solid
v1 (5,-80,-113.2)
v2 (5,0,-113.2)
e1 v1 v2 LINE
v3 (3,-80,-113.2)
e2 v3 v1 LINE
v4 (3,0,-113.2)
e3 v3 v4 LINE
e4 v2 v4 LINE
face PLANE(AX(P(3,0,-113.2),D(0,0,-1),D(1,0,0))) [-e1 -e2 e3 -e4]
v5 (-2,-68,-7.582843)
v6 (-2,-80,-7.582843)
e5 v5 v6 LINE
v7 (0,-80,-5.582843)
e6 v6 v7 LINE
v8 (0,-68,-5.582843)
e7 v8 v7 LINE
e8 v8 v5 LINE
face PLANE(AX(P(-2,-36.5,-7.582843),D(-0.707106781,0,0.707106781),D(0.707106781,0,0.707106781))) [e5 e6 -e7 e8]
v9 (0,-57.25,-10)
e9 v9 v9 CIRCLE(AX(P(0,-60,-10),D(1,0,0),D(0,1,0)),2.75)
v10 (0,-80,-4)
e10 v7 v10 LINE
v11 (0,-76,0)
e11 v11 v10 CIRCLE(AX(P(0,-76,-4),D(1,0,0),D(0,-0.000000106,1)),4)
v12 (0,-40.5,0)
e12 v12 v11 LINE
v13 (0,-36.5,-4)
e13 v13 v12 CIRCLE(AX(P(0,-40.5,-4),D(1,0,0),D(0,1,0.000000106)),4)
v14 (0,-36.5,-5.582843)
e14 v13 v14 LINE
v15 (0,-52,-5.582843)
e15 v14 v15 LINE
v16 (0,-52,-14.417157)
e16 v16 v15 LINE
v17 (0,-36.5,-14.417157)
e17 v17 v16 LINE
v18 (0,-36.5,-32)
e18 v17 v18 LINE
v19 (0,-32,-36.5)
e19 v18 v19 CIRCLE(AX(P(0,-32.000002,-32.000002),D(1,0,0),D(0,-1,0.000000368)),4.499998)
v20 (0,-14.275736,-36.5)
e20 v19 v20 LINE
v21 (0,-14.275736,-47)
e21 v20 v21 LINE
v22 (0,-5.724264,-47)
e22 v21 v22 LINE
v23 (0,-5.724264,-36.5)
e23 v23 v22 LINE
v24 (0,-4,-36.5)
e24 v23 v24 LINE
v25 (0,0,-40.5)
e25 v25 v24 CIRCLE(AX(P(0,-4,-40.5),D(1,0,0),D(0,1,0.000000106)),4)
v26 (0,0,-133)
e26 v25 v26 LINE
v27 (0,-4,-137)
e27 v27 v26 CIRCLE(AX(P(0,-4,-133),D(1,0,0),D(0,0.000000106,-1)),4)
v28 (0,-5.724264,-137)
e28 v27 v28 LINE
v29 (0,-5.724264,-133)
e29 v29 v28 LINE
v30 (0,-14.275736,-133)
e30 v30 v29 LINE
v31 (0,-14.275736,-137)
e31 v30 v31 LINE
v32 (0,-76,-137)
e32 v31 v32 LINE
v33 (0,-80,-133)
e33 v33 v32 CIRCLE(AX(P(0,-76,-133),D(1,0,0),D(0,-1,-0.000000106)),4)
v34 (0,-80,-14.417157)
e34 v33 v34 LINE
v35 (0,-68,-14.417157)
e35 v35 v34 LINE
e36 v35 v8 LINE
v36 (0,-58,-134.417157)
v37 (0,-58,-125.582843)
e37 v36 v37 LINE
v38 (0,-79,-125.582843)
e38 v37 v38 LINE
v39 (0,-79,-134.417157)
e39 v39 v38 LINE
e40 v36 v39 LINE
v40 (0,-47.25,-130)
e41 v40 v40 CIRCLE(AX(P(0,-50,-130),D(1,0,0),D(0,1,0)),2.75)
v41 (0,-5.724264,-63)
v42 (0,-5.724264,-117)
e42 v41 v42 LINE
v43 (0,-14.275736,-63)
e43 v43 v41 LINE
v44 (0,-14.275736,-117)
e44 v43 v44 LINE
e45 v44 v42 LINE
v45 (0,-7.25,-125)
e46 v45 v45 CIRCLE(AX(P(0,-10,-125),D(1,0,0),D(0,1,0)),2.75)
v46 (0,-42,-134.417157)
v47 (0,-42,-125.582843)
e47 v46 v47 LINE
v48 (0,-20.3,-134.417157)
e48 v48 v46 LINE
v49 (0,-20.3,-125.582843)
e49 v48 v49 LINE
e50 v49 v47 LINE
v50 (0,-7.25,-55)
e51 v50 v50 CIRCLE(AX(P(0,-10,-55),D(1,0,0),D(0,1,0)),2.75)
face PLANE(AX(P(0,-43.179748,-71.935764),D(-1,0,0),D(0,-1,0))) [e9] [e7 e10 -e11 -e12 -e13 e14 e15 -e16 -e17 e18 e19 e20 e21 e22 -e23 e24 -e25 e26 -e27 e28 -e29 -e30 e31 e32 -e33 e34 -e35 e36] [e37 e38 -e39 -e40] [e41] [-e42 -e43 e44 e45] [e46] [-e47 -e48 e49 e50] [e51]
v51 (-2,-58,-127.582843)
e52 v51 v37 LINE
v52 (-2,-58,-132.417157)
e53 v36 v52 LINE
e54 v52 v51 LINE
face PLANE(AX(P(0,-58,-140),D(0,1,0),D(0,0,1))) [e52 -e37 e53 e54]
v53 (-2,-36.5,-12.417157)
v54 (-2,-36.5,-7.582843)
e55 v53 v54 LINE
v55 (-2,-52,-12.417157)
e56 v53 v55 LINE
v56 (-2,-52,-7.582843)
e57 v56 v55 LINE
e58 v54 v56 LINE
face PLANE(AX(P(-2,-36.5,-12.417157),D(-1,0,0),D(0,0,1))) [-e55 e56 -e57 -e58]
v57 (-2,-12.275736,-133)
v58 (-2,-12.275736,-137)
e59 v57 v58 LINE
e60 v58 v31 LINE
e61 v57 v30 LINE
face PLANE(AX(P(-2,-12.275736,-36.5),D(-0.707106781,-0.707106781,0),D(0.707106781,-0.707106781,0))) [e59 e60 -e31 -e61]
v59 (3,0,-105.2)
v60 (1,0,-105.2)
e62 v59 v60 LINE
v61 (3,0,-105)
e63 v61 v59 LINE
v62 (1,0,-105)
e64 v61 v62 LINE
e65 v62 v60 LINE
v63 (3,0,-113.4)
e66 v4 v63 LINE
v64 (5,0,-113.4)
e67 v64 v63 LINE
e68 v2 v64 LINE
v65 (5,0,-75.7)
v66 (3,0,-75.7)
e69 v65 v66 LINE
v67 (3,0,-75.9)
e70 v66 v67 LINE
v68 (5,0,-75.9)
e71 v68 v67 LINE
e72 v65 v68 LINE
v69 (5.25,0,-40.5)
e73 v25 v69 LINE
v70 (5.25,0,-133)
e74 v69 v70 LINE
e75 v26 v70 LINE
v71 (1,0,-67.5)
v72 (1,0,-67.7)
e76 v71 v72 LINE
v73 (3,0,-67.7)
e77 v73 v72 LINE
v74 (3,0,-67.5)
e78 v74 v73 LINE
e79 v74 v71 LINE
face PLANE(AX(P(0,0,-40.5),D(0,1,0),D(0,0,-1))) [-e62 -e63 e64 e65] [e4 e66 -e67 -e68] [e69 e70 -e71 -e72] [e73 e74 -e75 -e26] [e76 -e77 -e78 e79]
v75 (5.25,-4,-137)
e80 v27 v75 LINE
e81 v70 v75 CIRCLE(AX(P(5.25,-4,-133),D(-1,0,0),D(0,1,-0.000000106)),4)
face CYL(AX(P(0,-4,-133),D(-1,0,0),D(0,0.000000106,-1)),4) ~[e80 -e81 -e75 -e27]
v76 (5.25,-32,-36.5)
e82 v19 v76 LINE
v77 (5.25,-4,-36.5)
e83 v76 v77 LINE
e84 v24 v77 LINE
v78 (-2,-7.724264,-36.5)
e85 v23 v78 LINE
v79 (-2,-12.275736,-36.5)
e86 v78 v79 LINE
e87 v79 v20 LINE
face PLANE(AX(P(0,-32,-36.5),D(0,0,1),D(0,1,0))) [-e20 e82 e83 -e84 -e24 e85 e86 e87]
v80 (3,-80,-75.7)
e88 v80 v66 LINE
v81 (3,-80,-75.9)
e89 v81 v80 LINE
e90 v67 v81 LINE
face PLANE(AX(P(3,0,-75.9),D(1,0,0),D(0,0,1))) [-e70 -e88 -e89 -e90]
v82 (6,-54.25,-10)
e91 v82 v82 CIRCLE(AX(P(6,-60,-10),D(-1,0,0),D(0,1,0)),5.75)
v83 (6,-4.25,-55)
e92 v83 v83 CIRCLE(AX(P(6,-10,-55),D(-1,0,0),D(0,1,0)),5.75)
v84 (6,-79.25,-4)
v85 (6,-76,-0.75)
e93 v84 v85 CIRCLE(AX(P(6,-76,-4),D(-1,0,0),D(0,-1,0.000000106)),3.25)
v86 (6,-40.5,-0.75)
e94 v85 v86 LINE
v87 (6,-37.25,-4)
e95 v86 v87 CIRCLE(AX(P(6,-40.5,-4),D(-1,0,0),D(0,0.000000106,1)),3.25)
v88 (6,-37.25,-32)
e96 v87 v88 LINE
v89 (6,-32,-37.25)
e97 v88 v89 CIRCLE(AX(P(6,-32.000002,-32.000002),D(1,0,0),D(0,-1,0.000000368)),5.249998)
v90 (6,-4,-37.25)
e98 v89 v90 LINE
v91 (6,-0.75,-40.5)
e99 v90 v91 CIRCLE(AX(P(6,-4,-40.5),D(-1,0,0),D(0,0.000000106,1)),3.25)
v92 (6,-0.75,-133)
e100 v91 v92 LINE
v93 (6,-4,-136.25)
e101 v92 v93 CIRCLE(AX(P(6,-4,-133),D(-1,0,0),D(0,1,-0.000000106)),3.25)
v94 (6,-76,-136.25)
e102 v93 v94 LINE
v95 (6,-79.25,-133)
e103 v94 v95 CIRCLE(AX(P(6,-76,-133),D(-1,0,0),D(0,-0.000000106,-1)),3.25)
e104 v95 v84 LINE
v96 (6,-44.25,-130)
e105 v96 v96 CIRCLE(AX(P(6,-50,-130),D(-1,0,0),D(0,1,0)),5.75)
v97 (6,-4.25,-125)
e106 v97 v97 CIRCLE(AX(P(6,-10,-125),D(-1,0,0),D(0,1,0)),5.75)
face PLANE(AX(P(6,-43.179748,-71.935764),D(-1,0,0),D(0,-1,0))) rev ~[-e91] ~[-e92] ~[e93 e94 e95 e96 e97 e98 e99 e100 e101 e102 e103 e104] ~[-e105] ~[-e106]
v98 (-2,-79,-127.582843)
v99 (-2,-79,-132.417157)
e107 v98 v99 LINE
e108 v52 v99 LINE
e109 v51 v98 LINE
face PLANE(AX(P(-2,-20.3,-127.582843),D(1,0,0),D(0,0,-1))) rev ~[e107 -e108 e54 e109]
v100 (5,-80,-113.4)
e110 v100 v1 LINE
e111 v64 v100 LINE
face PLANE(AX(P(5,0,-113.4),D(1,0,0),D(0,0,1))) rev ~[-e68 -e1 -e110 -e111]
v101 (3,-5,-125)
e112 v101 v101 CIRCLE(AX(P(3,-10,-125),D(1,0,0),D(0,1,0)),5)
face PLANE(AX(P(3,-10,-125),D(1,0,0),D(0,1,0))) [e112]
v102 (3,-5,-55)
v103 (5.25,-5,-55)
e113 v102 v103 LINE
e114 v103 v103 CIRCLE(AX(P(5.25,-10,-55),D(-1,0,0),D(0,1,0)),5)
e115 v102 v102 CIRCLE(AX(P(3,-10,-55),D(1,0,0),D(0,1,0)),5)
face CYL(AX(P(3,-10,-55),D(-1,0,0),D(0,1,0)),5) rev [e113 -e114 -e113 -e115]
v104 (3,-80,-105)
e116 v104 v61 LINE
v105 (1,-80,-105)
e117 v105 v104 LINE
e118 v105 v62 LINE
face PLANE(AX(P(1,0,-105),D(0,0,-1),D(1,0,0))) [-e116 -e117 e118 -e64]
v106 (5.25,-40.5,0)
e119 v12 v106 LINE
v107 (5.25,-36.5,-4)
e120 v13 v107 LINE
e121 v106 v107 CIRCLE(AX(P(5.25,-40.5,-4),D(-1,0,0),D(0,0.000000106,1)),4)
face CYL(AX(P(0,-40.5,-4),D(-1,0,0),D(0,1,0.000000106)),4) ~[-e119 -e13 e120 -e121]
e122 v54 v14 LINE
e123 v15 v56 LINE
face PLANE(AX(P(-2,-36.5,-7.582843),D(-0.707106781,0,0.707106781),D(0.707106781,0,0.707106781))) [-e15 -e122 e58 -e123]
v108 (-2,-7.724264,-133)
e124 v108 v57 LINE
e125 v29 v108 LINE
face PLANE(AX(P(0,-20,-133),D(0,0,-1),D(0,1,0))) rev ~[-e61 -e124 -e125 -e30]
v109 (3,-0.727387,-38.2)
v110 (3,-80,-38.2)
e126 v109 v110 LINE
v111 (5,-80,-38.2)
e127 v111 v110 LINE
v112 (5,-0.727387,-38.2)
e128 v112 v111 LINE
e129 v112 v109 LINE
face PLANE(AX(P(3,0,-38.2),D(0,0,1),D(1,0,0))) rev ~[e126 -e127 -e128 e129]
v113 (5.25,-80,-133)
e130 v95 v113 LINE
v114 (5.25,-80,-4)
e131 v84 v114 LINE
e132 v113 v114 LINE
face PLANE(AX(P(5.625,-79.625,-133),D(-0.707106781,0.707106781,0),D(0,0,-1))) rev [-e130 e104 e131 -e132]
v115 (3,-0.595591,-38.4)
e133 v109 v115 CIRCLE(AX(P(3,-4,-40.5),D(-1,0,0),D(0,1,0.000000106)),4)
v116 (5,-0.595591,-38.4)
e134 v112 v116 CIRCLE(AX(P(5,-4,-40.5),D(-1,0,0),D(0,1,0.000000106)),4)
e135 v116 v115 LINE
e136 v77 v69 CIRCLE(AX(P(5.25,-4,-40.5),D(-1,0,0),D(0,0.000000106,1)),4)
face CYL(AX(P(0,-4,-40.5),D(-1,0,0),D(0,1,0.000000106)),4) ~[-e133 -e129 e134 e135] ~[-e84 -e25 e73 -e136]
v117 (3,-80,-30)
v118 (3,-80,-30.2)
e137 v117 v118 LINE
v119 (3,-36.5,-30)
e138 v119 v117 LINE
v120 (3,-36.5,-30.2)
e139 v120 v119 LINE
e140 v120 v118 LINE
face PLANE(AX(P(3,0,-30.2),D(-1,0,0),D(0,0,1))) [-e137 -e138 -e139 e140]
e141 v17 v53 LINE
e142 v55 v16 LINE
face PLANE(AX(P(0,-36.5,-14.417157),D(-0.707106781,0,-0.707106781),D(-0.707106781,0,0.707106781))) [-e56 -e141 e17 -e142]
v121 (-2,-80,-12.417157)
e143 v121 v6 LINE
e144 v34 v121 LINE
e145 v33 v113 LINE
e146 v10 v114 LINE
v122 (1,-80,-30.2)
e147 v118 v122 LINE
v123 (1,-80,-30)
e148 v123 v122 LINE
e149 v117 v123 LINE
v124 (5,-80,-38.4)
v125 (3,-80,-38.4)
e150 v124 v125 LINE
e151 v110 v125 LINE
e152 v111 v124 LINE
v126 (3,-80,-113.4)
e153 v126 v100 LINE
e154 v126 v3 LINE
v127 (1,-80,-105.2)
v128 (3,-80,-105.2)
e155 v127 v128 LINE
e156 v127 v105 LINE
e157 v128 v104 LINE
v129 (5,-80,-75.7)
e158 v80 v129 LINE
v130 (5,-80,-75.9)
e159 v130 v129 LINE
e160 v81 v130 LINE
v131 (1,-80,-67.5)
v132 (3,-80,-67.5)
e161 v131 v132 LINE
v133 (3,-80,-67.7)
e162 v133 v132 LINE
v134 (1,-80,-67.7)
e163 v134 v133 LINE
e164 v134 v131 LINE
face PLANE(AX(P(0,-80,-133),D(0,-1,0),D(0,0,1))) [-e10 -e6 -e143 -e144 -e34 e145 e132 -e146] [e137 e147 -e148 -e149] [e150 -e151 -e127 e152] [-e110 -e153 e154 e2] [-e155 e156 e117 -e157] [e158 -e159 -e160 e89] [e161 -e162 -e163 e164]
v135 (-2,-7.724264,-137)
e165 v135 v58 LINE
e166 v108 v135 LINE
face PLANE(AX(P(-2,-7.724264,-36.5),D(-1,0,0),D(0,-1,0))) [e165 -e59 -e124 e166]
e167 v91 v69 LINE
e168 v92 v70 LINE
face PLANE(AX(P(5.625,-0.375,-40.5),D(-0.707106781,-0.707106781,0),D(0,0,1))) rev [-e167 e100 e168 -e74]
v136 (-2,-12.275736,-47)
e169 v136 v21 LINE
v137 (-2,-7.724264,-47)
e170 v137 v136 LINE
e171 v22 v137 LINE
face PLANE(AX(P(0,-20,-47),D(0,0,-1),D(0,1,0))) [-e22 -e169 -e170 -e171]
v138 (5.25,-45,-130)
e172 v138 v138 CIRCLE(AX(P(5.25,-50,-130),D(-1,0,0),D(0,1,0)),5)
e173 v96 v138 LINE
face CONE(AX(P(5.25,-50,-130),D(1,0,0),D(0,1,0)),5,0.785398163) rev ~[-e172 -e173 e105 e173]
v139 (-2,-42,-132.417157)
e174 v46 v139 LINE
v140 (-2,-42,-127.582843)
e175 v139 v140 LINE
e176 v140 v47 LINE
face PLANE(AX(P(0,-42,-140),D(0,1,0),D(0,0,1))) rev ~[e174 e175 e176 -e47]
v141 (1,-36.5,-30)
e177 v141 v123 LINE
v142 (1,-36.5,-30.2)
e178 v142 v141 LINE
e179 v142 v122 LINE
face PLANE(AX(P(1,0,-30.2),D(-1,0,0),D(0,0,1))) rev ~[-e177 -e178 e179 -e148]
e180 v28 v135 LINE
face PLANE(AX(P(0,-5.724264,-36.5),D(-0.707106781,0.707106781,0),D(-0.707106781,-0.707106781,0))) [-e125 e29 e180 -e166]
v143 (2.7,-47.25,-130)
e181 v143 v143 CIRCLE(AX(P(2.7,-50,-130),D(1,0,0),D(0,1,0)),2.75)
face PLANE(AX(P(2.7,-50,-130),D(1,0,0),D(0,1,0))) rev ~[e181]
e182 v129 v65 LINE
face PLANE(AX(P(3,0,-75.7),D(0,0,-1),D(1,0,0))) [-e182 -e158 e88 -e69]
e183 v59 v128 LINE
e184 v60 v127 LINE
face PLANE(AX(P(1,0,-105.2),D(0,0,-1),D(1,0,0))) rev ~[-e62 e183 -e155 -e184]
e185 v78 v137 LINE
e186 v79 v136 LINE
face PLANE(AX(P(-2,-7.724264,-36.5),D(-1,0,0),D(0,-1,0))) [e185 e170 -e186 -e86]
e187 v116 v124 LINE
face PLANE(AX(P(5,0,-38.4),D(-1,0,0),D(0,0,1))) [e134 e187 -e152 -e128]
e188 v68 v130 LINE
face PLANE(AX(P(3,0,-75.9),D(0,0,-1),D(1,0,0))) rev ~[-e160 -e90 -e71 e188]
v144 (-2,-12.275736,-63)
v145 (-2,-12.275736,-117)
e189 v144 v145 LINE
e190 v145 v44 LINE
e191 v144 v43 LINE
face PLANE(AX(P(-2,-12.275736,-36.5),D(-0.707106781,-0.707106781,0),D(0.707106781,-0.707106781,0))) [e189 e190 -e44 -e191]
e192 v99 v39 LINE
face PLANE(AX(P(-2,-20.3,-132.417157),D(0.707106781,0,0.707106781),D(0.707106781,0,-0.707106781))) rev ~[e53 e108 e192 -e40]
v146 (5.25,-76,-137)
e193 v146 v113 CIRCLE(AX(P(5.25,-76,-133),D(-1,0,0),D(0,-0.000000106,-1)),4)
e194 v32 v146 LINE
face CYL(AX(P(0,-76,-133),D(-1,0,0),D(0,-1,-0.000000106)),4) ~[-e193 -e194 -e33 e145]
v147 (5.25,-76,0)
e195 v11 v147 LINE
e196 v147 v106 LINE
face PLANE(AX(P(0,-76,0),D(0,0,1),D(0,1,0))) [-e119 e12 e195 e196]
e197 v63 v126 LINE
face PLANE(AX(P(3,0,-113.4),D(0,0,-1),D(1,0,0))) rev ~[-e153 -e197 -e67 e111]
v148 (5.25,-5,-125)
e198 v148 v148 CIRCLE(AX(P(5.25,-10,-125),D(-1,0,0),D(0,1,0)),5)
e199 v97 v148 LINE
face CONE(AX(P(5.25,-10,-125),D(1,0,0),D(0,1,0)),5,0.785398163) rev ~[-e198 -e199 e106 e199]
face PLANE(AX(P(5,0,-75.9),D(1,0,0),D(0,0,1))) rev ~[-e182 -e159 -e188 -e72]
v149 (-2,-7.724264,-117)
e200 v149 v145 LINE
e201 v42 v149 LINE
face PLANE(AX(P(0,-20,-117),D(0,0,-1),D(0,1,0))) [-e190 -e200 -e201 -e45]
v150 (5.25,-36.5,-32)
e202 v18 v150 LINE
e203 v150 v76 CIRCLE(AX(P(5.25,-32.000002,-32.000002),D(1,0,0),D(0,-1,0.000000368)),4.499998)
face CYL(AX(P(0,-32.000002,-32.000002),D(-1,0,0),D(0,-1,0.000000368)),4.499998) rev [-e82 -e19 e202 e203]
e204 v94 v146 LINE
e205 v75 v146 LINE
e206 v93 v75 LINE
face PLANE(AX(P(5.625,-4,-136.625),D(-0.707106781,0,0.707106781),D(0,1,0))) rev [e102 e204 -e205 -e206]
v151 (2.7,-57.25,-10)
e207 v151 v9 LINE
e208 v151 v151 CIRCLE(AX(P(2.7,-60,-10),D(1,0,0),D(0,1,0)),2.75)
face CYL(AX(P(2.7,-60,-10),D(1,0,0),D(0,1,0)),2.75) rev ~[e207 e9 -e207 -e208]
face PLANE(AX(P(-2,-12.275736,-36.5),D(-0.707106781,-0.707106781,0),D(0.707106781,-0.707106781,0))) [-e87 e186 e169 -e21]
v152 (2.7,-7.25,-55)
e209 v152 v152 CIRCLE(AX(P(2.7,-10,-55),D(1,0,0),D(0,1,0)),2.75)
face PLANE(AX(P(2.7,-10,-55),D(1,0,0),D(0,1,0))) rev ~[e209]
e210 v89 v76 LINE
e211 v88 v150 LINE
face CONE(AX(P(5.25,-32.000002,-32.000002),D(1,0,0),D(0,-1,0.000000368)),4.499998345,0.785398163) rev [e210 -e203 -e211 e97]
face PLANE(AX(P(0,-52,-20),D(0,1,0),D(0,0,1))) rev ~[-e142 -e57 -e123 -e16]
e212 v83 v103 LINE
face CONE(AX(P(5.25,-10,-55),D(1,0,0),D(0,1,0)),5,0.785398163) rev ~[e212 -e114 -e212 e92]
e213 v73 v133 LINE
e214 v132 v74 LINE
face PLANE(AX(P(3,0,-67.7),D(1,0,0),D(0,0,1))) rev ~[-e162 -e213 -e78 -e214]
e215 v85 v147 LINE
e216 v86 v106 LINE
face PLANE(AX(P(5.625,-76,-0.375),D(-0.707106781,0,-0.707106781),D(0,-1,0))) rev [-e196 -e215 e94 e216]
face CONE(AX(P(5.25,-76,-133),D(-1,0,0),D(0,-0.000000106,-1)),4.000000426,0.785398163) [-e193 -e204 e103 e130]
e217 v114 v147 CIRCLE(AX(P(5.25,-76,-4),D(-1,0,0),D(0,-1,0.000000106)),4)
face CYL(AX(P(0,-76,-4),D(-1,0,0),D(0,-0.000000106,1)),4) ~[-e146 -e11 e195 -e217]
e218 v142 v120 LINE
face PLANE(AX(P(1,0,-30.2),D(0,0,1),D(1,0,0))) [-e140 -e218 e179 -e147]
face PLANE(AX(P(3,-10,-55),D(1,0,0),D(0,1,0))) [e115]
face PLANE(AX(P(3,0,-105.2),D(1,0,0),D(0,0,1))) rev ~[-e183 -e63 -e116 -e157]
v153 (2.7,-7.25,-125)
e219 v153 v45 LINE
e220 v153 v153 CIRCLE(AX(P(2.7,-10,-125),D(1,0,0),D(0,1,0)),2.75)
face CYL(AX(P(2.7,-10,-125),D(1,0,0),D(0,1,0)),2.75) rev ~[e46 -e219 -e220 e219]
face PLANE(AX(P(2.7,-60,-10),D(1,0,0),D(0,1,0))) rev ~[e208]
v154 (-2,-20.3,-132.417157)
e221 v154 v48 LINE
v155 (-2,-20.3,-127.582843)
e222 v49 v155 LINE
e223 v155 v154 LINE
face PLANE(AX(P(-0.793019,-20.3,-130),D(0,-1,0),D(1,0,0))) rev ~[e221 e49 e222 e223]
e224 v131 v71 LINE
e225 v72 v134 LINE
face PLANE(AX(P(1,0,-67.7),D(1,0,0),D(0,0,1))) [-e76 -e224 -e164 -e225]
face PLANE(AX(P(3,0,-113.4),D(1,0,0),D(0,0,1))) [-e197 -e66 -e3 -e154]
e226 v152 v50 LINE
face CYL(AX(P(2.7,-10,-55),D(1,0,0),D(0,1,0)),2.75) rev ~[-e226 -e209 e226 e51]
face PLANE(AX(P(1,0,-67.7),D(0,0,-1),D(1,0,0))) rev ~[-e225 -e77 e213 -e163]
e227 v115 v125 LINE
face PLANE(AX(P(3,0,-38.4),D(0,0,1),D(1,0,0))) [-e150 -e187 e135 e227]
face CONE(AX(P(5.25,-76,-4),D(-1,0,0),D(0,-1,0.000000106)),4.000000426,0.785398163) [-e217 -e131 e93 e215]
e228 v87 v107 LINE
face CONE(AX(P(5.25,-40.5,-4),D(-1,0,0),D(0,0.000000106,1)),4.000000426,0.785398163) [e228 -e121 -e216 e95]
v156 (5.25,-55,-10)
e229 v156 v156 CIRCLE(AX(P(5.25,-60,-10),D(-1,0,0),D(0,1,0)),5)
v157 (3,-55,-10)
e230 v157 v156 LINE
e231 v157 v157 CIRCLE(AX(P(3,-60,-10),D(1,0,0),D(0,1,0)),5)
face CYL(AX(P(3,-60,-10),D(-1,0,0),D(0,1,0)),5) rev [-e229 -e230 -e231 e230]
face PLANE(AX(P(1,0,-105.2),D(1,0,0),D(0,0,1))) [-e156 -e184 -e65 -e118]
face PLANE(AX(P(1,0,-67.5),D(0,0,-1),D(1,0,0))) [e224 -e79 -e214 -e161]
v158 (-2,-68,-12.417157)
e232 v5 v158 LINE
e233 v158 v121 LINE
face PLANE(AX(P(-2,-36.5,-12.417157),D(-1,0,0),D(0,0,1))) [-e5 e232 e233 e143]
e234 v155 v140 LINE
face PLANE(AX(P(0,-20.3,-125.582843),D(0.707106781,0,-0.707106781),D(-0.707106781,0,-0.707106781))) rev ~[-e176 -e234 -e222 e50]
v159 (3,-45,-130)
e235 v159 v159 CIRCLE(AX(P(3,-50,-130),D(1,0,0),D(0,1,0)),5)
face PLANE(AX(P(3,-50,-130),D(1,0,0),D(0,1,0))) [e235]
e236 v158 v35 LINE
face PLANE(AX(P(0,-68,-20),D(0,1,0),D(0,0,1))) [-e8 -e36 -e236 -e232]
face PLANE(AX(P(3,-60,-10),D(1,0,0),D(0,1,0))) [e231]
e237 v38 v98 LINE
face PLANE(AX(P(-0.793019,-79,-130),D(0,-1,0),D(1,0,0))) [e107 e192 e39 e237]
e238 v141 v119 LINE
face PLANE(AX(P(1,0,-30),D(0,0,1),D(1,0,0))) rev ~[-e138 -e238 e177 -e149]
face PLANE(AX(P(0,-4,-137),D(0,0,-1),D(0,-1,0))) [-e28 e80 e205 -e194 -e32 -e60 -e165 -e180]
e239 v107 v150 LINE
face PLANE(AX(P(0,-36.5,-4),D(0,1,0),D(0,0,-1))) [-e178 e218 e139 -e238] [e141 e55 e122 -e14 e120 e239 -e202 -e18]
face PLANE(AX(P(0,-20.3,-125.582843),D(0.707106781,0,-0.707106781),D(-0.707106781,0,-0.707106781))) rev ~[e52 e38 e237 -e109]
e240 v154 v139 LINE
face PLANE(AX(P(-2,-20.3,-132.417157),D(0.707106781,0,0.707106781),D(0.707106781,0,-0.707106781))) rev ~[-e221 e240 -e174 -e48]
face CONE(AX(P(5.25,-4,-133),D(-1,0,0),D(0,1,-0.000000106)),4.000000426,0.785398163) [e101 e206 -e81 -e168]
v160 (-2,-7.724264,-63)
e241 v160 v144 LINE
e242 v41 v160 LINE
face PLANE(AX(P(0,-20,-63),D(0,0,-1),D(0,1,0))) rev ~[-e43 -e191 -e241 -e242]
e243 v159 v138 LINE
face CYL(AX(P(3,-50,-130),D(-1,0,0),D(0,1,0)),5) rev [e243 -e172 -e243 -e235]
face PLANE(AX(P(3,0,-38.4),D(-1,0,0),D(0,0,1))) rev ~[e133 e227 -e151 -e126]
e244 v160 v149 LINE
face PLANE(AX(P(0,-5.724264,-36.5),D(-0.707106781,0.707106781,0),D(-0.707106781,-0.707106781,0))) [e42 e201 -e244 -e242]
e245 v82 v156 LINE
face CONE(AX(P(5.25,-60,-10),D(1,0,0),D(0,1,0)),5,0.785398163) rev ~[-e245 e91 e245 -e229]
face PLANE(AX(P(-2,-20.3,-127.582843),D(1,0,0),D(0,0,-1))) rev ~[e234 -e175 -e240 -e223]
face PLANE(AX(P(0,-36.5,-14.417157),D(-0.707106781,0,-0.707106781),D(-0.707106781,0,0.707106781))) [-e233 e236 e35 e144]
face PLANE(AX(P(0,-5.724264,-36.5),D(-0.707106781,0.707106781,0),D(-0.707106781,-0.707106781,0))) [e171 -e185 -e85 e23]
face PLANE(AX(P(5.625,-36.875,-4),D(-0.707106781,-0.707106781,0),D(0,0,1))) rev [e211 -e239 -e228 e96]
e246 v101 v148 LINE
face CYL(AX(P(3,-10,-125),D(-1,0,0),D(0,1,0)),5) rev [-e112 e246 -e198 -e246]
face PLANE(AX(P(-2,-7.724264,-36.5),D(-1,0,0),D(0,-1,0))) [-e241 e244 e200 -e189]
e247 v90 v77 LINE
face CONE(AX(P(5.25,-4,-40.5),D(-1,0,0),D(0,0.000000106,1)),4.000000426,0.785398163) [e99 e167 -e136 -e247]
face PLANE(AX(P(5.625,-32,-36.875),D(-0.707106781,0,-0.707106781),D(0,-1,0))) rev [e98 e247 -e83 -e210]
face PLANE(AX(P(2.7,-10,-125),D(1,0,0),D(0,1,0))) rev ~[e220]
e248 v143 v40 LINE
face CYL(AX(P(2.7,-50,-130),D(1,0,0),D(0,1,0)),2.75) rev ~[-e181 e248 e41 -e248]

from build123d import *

# Parameters (mm, degrees)
PAD078_DEPTH        = 6
PAD079_START        = -36.5
PAD079_DEPTH        = 100.5
PAD080_START        = 36.5
PAD080_DEPTH        = 43.5
PAD081_START        = 20.3
PAD081_DEPTH        = 58.7
SKETCH337_W         = 20
SKETCH337_H         = 16
SKETCH337_W_2       = 16
SKETCH337_H_2       = 20
POCKET214_DEPTH     = 2.001
SKETCH396_R         = 5
POCKET278_DEPTH     = 3.001
SKETCH397_R         = 2.75
POCKET279_DEPTH     = 4.701
CHAMFER_SIZE        = 0.75
SKETCH_W            = 2
SKETCH_H            = 0.2
POCKET_DEPTH        = 0.001
POCKET_DEPTH_BACK   = 80.001
LINEARPATTERN_COUNT = 3
LINEARPATTERN_PITCH = 37.5


with BuildPart() as part:
    # Sketch334 → Pad078 (new body)
    with BuildSketch(Plane.YZ):
        with BuildLine():
            Line((-76, 0), (-40.5, 0))
            ThreePointArc((-36.5, -4), (-37.671573, -1.171573), (-40.5, 0))
            Line((-36.5, -4), (-36.5, -32))
            ThreePointArc((-36.5, -32), (-35.181981, -35.181981), (-32, -36.5))
            Line((-32, -36.5), (-4, -36.5))
            ThreePointArc((0, -40.5), (-1.171573, -37.671573), (-4, -36.5))
            Line((0, -40.5), (0, -133))
            ThreePointArc((-4, -137), (-1.171573, -135.828427), (0, -133))
            Line((-4, -137), (-76, -137))
            ThreePointArc((-80, -133), (-78.828427, -135.828427), (-76, -137))
            Line((-80, -133), (-80, -4))
            ThreePointArc((-76, 0), (-78.828427, -1.171573), (-80, -4))
        make_face()
    extrude(amount=PAD078_DEPTH)

    # Sketch335 → Pad079 (join)
    with BuildSketch(Plane.XY.offset(PAD079_START)):
        Polygon((0, -5.724264), (-2, -7.724264), (-2, -12.275736), (0, -14.275736), align=None)
    extrude(amount=-PAD079_DEPTH)

    # Sketch338 → Pad080 (join)
    with BuildSketch(Plane.XZ.offset(PAD080_START)):
        Polygon((-2, -7.582843), (0, -5.582843), (0, -14.417157), (-2, -12.417157), align=None)
    extrude(amount=PAD080_DEPTH)

    # Sketch339 → Pad081 (join)
    with BuildSketch(Plane.XZ.offset(PAD081_START)):
        Polygon((0, -125.582843), (-2, -127.582843), (-2, -132.417157), (0, -134.417157), align=None)
    extrude(amount=PAD081_DEPTH)

    # Sketch337 → Pocket214 (cut, through all)
    with BuildSketch(Plane.YZ):
        with Locations((-10, -55)):
            Rectangle(SKETCH337_W, SKETCH337_H)
        with Locations((-60, -10)):
            Rectangle(SKETCH337_W_2, SKETCH337_H_2)
        with Locations((-50, -130)):
            Rectangle(SKETCH337_W_2, SKETCH337_H_2)
        with Locations((-10, -125)):
            Rectangle(SKETCH337_W, SKETCH337_H)
    extrude(amount=-POCKET214_DEPTH, mode=Mode.SUBTRACT)

    # Sketch396 → Pocket278 (cut, through all)
    with BuildSketch(Plane.YZ.offset(3)):
        with Locations((-60, -10)):
            Circle(SKETCH396_R)
        with Locations((-10, -55)):
            Circle(SKETCH396_R)
        with Locations((-10, -125)):
            Circle(SKETCH396_R)
        with Locations((-50, -130)):
            Circle(SKETCH396_R)
    extrude(amount=POCKET278_DEPTH, mode=Mode.SUBTRACT)

    # Sketch397 → Pocket279 (cut, through all)
    with BuildSketch(Plane.YZ.offset(2.7)):
        with Locations((-60, -10)):
            Circle(SKETCH397_R)
        with Locations((-10, -55)):
            Circle(SKETCH397_R)
        with Locations((-10, -125)):
            Circle(SKETCH397_R)
        with Locations((-50, -130)):
            Circle(SKETCH397_R)
    extrude(amount=-POCKET279_DEPTH, mode=Mode.SUBTRACT)

    # Chamfer
    chamfer_edges = [part.edges().sort_by_distance(p)[0] for p in [
        (6, -80, -68.5),
        (6, -78.828427, -135.828427),
        (6, -78.828427, -1.171573),
        (6, -40, -137),
        (6, -58.25, 0),
        (6, -1.171573, -135.828427),
        (6, -37.671573, -1.171573),
        (6, 0, -86.75),
        (6, -36.5, -18),
        (6, -1.171573, -37.671573),
        (6, -35.181981, -35.181981),
        (6, -18, -36.5),
        (6, -15, -125),
        (6, -15, -55),
        (6, -55, -130),
        (6, -65, -10),
    ]]
    chamfer(chamfer_edges, length=CHAMFER_SIZE)

    # Sketch → Pocket (cut, two sides)
    with BuildSketch(Plane.XZ) as pocket_sk:
        with Locations((2, -30.1)):
            Rectangle(SKETCH_W, SKETCH_H)
        with Locations((4, -38.3)):
            Rectangle(SKETCH_W, SKETCH_H)
    pocket = extrude(amount=-POCKET_DEPTH, mode=Mode.SUBTRACT) + extrude(pocket_sk.sketch, amount=POCKET_DEPTH_BACK, mode=Mode.SUBTRACT)

    # LinearPattern: Pocket ×3
    with Locations(*[(0, 0, -i * LINEARPATTERN_PITCH) for i in range(1, LINEARPATTERN_COUNT)]):
        add(pocket, mode=Mode.SUBTRACT)


solid = part.part
